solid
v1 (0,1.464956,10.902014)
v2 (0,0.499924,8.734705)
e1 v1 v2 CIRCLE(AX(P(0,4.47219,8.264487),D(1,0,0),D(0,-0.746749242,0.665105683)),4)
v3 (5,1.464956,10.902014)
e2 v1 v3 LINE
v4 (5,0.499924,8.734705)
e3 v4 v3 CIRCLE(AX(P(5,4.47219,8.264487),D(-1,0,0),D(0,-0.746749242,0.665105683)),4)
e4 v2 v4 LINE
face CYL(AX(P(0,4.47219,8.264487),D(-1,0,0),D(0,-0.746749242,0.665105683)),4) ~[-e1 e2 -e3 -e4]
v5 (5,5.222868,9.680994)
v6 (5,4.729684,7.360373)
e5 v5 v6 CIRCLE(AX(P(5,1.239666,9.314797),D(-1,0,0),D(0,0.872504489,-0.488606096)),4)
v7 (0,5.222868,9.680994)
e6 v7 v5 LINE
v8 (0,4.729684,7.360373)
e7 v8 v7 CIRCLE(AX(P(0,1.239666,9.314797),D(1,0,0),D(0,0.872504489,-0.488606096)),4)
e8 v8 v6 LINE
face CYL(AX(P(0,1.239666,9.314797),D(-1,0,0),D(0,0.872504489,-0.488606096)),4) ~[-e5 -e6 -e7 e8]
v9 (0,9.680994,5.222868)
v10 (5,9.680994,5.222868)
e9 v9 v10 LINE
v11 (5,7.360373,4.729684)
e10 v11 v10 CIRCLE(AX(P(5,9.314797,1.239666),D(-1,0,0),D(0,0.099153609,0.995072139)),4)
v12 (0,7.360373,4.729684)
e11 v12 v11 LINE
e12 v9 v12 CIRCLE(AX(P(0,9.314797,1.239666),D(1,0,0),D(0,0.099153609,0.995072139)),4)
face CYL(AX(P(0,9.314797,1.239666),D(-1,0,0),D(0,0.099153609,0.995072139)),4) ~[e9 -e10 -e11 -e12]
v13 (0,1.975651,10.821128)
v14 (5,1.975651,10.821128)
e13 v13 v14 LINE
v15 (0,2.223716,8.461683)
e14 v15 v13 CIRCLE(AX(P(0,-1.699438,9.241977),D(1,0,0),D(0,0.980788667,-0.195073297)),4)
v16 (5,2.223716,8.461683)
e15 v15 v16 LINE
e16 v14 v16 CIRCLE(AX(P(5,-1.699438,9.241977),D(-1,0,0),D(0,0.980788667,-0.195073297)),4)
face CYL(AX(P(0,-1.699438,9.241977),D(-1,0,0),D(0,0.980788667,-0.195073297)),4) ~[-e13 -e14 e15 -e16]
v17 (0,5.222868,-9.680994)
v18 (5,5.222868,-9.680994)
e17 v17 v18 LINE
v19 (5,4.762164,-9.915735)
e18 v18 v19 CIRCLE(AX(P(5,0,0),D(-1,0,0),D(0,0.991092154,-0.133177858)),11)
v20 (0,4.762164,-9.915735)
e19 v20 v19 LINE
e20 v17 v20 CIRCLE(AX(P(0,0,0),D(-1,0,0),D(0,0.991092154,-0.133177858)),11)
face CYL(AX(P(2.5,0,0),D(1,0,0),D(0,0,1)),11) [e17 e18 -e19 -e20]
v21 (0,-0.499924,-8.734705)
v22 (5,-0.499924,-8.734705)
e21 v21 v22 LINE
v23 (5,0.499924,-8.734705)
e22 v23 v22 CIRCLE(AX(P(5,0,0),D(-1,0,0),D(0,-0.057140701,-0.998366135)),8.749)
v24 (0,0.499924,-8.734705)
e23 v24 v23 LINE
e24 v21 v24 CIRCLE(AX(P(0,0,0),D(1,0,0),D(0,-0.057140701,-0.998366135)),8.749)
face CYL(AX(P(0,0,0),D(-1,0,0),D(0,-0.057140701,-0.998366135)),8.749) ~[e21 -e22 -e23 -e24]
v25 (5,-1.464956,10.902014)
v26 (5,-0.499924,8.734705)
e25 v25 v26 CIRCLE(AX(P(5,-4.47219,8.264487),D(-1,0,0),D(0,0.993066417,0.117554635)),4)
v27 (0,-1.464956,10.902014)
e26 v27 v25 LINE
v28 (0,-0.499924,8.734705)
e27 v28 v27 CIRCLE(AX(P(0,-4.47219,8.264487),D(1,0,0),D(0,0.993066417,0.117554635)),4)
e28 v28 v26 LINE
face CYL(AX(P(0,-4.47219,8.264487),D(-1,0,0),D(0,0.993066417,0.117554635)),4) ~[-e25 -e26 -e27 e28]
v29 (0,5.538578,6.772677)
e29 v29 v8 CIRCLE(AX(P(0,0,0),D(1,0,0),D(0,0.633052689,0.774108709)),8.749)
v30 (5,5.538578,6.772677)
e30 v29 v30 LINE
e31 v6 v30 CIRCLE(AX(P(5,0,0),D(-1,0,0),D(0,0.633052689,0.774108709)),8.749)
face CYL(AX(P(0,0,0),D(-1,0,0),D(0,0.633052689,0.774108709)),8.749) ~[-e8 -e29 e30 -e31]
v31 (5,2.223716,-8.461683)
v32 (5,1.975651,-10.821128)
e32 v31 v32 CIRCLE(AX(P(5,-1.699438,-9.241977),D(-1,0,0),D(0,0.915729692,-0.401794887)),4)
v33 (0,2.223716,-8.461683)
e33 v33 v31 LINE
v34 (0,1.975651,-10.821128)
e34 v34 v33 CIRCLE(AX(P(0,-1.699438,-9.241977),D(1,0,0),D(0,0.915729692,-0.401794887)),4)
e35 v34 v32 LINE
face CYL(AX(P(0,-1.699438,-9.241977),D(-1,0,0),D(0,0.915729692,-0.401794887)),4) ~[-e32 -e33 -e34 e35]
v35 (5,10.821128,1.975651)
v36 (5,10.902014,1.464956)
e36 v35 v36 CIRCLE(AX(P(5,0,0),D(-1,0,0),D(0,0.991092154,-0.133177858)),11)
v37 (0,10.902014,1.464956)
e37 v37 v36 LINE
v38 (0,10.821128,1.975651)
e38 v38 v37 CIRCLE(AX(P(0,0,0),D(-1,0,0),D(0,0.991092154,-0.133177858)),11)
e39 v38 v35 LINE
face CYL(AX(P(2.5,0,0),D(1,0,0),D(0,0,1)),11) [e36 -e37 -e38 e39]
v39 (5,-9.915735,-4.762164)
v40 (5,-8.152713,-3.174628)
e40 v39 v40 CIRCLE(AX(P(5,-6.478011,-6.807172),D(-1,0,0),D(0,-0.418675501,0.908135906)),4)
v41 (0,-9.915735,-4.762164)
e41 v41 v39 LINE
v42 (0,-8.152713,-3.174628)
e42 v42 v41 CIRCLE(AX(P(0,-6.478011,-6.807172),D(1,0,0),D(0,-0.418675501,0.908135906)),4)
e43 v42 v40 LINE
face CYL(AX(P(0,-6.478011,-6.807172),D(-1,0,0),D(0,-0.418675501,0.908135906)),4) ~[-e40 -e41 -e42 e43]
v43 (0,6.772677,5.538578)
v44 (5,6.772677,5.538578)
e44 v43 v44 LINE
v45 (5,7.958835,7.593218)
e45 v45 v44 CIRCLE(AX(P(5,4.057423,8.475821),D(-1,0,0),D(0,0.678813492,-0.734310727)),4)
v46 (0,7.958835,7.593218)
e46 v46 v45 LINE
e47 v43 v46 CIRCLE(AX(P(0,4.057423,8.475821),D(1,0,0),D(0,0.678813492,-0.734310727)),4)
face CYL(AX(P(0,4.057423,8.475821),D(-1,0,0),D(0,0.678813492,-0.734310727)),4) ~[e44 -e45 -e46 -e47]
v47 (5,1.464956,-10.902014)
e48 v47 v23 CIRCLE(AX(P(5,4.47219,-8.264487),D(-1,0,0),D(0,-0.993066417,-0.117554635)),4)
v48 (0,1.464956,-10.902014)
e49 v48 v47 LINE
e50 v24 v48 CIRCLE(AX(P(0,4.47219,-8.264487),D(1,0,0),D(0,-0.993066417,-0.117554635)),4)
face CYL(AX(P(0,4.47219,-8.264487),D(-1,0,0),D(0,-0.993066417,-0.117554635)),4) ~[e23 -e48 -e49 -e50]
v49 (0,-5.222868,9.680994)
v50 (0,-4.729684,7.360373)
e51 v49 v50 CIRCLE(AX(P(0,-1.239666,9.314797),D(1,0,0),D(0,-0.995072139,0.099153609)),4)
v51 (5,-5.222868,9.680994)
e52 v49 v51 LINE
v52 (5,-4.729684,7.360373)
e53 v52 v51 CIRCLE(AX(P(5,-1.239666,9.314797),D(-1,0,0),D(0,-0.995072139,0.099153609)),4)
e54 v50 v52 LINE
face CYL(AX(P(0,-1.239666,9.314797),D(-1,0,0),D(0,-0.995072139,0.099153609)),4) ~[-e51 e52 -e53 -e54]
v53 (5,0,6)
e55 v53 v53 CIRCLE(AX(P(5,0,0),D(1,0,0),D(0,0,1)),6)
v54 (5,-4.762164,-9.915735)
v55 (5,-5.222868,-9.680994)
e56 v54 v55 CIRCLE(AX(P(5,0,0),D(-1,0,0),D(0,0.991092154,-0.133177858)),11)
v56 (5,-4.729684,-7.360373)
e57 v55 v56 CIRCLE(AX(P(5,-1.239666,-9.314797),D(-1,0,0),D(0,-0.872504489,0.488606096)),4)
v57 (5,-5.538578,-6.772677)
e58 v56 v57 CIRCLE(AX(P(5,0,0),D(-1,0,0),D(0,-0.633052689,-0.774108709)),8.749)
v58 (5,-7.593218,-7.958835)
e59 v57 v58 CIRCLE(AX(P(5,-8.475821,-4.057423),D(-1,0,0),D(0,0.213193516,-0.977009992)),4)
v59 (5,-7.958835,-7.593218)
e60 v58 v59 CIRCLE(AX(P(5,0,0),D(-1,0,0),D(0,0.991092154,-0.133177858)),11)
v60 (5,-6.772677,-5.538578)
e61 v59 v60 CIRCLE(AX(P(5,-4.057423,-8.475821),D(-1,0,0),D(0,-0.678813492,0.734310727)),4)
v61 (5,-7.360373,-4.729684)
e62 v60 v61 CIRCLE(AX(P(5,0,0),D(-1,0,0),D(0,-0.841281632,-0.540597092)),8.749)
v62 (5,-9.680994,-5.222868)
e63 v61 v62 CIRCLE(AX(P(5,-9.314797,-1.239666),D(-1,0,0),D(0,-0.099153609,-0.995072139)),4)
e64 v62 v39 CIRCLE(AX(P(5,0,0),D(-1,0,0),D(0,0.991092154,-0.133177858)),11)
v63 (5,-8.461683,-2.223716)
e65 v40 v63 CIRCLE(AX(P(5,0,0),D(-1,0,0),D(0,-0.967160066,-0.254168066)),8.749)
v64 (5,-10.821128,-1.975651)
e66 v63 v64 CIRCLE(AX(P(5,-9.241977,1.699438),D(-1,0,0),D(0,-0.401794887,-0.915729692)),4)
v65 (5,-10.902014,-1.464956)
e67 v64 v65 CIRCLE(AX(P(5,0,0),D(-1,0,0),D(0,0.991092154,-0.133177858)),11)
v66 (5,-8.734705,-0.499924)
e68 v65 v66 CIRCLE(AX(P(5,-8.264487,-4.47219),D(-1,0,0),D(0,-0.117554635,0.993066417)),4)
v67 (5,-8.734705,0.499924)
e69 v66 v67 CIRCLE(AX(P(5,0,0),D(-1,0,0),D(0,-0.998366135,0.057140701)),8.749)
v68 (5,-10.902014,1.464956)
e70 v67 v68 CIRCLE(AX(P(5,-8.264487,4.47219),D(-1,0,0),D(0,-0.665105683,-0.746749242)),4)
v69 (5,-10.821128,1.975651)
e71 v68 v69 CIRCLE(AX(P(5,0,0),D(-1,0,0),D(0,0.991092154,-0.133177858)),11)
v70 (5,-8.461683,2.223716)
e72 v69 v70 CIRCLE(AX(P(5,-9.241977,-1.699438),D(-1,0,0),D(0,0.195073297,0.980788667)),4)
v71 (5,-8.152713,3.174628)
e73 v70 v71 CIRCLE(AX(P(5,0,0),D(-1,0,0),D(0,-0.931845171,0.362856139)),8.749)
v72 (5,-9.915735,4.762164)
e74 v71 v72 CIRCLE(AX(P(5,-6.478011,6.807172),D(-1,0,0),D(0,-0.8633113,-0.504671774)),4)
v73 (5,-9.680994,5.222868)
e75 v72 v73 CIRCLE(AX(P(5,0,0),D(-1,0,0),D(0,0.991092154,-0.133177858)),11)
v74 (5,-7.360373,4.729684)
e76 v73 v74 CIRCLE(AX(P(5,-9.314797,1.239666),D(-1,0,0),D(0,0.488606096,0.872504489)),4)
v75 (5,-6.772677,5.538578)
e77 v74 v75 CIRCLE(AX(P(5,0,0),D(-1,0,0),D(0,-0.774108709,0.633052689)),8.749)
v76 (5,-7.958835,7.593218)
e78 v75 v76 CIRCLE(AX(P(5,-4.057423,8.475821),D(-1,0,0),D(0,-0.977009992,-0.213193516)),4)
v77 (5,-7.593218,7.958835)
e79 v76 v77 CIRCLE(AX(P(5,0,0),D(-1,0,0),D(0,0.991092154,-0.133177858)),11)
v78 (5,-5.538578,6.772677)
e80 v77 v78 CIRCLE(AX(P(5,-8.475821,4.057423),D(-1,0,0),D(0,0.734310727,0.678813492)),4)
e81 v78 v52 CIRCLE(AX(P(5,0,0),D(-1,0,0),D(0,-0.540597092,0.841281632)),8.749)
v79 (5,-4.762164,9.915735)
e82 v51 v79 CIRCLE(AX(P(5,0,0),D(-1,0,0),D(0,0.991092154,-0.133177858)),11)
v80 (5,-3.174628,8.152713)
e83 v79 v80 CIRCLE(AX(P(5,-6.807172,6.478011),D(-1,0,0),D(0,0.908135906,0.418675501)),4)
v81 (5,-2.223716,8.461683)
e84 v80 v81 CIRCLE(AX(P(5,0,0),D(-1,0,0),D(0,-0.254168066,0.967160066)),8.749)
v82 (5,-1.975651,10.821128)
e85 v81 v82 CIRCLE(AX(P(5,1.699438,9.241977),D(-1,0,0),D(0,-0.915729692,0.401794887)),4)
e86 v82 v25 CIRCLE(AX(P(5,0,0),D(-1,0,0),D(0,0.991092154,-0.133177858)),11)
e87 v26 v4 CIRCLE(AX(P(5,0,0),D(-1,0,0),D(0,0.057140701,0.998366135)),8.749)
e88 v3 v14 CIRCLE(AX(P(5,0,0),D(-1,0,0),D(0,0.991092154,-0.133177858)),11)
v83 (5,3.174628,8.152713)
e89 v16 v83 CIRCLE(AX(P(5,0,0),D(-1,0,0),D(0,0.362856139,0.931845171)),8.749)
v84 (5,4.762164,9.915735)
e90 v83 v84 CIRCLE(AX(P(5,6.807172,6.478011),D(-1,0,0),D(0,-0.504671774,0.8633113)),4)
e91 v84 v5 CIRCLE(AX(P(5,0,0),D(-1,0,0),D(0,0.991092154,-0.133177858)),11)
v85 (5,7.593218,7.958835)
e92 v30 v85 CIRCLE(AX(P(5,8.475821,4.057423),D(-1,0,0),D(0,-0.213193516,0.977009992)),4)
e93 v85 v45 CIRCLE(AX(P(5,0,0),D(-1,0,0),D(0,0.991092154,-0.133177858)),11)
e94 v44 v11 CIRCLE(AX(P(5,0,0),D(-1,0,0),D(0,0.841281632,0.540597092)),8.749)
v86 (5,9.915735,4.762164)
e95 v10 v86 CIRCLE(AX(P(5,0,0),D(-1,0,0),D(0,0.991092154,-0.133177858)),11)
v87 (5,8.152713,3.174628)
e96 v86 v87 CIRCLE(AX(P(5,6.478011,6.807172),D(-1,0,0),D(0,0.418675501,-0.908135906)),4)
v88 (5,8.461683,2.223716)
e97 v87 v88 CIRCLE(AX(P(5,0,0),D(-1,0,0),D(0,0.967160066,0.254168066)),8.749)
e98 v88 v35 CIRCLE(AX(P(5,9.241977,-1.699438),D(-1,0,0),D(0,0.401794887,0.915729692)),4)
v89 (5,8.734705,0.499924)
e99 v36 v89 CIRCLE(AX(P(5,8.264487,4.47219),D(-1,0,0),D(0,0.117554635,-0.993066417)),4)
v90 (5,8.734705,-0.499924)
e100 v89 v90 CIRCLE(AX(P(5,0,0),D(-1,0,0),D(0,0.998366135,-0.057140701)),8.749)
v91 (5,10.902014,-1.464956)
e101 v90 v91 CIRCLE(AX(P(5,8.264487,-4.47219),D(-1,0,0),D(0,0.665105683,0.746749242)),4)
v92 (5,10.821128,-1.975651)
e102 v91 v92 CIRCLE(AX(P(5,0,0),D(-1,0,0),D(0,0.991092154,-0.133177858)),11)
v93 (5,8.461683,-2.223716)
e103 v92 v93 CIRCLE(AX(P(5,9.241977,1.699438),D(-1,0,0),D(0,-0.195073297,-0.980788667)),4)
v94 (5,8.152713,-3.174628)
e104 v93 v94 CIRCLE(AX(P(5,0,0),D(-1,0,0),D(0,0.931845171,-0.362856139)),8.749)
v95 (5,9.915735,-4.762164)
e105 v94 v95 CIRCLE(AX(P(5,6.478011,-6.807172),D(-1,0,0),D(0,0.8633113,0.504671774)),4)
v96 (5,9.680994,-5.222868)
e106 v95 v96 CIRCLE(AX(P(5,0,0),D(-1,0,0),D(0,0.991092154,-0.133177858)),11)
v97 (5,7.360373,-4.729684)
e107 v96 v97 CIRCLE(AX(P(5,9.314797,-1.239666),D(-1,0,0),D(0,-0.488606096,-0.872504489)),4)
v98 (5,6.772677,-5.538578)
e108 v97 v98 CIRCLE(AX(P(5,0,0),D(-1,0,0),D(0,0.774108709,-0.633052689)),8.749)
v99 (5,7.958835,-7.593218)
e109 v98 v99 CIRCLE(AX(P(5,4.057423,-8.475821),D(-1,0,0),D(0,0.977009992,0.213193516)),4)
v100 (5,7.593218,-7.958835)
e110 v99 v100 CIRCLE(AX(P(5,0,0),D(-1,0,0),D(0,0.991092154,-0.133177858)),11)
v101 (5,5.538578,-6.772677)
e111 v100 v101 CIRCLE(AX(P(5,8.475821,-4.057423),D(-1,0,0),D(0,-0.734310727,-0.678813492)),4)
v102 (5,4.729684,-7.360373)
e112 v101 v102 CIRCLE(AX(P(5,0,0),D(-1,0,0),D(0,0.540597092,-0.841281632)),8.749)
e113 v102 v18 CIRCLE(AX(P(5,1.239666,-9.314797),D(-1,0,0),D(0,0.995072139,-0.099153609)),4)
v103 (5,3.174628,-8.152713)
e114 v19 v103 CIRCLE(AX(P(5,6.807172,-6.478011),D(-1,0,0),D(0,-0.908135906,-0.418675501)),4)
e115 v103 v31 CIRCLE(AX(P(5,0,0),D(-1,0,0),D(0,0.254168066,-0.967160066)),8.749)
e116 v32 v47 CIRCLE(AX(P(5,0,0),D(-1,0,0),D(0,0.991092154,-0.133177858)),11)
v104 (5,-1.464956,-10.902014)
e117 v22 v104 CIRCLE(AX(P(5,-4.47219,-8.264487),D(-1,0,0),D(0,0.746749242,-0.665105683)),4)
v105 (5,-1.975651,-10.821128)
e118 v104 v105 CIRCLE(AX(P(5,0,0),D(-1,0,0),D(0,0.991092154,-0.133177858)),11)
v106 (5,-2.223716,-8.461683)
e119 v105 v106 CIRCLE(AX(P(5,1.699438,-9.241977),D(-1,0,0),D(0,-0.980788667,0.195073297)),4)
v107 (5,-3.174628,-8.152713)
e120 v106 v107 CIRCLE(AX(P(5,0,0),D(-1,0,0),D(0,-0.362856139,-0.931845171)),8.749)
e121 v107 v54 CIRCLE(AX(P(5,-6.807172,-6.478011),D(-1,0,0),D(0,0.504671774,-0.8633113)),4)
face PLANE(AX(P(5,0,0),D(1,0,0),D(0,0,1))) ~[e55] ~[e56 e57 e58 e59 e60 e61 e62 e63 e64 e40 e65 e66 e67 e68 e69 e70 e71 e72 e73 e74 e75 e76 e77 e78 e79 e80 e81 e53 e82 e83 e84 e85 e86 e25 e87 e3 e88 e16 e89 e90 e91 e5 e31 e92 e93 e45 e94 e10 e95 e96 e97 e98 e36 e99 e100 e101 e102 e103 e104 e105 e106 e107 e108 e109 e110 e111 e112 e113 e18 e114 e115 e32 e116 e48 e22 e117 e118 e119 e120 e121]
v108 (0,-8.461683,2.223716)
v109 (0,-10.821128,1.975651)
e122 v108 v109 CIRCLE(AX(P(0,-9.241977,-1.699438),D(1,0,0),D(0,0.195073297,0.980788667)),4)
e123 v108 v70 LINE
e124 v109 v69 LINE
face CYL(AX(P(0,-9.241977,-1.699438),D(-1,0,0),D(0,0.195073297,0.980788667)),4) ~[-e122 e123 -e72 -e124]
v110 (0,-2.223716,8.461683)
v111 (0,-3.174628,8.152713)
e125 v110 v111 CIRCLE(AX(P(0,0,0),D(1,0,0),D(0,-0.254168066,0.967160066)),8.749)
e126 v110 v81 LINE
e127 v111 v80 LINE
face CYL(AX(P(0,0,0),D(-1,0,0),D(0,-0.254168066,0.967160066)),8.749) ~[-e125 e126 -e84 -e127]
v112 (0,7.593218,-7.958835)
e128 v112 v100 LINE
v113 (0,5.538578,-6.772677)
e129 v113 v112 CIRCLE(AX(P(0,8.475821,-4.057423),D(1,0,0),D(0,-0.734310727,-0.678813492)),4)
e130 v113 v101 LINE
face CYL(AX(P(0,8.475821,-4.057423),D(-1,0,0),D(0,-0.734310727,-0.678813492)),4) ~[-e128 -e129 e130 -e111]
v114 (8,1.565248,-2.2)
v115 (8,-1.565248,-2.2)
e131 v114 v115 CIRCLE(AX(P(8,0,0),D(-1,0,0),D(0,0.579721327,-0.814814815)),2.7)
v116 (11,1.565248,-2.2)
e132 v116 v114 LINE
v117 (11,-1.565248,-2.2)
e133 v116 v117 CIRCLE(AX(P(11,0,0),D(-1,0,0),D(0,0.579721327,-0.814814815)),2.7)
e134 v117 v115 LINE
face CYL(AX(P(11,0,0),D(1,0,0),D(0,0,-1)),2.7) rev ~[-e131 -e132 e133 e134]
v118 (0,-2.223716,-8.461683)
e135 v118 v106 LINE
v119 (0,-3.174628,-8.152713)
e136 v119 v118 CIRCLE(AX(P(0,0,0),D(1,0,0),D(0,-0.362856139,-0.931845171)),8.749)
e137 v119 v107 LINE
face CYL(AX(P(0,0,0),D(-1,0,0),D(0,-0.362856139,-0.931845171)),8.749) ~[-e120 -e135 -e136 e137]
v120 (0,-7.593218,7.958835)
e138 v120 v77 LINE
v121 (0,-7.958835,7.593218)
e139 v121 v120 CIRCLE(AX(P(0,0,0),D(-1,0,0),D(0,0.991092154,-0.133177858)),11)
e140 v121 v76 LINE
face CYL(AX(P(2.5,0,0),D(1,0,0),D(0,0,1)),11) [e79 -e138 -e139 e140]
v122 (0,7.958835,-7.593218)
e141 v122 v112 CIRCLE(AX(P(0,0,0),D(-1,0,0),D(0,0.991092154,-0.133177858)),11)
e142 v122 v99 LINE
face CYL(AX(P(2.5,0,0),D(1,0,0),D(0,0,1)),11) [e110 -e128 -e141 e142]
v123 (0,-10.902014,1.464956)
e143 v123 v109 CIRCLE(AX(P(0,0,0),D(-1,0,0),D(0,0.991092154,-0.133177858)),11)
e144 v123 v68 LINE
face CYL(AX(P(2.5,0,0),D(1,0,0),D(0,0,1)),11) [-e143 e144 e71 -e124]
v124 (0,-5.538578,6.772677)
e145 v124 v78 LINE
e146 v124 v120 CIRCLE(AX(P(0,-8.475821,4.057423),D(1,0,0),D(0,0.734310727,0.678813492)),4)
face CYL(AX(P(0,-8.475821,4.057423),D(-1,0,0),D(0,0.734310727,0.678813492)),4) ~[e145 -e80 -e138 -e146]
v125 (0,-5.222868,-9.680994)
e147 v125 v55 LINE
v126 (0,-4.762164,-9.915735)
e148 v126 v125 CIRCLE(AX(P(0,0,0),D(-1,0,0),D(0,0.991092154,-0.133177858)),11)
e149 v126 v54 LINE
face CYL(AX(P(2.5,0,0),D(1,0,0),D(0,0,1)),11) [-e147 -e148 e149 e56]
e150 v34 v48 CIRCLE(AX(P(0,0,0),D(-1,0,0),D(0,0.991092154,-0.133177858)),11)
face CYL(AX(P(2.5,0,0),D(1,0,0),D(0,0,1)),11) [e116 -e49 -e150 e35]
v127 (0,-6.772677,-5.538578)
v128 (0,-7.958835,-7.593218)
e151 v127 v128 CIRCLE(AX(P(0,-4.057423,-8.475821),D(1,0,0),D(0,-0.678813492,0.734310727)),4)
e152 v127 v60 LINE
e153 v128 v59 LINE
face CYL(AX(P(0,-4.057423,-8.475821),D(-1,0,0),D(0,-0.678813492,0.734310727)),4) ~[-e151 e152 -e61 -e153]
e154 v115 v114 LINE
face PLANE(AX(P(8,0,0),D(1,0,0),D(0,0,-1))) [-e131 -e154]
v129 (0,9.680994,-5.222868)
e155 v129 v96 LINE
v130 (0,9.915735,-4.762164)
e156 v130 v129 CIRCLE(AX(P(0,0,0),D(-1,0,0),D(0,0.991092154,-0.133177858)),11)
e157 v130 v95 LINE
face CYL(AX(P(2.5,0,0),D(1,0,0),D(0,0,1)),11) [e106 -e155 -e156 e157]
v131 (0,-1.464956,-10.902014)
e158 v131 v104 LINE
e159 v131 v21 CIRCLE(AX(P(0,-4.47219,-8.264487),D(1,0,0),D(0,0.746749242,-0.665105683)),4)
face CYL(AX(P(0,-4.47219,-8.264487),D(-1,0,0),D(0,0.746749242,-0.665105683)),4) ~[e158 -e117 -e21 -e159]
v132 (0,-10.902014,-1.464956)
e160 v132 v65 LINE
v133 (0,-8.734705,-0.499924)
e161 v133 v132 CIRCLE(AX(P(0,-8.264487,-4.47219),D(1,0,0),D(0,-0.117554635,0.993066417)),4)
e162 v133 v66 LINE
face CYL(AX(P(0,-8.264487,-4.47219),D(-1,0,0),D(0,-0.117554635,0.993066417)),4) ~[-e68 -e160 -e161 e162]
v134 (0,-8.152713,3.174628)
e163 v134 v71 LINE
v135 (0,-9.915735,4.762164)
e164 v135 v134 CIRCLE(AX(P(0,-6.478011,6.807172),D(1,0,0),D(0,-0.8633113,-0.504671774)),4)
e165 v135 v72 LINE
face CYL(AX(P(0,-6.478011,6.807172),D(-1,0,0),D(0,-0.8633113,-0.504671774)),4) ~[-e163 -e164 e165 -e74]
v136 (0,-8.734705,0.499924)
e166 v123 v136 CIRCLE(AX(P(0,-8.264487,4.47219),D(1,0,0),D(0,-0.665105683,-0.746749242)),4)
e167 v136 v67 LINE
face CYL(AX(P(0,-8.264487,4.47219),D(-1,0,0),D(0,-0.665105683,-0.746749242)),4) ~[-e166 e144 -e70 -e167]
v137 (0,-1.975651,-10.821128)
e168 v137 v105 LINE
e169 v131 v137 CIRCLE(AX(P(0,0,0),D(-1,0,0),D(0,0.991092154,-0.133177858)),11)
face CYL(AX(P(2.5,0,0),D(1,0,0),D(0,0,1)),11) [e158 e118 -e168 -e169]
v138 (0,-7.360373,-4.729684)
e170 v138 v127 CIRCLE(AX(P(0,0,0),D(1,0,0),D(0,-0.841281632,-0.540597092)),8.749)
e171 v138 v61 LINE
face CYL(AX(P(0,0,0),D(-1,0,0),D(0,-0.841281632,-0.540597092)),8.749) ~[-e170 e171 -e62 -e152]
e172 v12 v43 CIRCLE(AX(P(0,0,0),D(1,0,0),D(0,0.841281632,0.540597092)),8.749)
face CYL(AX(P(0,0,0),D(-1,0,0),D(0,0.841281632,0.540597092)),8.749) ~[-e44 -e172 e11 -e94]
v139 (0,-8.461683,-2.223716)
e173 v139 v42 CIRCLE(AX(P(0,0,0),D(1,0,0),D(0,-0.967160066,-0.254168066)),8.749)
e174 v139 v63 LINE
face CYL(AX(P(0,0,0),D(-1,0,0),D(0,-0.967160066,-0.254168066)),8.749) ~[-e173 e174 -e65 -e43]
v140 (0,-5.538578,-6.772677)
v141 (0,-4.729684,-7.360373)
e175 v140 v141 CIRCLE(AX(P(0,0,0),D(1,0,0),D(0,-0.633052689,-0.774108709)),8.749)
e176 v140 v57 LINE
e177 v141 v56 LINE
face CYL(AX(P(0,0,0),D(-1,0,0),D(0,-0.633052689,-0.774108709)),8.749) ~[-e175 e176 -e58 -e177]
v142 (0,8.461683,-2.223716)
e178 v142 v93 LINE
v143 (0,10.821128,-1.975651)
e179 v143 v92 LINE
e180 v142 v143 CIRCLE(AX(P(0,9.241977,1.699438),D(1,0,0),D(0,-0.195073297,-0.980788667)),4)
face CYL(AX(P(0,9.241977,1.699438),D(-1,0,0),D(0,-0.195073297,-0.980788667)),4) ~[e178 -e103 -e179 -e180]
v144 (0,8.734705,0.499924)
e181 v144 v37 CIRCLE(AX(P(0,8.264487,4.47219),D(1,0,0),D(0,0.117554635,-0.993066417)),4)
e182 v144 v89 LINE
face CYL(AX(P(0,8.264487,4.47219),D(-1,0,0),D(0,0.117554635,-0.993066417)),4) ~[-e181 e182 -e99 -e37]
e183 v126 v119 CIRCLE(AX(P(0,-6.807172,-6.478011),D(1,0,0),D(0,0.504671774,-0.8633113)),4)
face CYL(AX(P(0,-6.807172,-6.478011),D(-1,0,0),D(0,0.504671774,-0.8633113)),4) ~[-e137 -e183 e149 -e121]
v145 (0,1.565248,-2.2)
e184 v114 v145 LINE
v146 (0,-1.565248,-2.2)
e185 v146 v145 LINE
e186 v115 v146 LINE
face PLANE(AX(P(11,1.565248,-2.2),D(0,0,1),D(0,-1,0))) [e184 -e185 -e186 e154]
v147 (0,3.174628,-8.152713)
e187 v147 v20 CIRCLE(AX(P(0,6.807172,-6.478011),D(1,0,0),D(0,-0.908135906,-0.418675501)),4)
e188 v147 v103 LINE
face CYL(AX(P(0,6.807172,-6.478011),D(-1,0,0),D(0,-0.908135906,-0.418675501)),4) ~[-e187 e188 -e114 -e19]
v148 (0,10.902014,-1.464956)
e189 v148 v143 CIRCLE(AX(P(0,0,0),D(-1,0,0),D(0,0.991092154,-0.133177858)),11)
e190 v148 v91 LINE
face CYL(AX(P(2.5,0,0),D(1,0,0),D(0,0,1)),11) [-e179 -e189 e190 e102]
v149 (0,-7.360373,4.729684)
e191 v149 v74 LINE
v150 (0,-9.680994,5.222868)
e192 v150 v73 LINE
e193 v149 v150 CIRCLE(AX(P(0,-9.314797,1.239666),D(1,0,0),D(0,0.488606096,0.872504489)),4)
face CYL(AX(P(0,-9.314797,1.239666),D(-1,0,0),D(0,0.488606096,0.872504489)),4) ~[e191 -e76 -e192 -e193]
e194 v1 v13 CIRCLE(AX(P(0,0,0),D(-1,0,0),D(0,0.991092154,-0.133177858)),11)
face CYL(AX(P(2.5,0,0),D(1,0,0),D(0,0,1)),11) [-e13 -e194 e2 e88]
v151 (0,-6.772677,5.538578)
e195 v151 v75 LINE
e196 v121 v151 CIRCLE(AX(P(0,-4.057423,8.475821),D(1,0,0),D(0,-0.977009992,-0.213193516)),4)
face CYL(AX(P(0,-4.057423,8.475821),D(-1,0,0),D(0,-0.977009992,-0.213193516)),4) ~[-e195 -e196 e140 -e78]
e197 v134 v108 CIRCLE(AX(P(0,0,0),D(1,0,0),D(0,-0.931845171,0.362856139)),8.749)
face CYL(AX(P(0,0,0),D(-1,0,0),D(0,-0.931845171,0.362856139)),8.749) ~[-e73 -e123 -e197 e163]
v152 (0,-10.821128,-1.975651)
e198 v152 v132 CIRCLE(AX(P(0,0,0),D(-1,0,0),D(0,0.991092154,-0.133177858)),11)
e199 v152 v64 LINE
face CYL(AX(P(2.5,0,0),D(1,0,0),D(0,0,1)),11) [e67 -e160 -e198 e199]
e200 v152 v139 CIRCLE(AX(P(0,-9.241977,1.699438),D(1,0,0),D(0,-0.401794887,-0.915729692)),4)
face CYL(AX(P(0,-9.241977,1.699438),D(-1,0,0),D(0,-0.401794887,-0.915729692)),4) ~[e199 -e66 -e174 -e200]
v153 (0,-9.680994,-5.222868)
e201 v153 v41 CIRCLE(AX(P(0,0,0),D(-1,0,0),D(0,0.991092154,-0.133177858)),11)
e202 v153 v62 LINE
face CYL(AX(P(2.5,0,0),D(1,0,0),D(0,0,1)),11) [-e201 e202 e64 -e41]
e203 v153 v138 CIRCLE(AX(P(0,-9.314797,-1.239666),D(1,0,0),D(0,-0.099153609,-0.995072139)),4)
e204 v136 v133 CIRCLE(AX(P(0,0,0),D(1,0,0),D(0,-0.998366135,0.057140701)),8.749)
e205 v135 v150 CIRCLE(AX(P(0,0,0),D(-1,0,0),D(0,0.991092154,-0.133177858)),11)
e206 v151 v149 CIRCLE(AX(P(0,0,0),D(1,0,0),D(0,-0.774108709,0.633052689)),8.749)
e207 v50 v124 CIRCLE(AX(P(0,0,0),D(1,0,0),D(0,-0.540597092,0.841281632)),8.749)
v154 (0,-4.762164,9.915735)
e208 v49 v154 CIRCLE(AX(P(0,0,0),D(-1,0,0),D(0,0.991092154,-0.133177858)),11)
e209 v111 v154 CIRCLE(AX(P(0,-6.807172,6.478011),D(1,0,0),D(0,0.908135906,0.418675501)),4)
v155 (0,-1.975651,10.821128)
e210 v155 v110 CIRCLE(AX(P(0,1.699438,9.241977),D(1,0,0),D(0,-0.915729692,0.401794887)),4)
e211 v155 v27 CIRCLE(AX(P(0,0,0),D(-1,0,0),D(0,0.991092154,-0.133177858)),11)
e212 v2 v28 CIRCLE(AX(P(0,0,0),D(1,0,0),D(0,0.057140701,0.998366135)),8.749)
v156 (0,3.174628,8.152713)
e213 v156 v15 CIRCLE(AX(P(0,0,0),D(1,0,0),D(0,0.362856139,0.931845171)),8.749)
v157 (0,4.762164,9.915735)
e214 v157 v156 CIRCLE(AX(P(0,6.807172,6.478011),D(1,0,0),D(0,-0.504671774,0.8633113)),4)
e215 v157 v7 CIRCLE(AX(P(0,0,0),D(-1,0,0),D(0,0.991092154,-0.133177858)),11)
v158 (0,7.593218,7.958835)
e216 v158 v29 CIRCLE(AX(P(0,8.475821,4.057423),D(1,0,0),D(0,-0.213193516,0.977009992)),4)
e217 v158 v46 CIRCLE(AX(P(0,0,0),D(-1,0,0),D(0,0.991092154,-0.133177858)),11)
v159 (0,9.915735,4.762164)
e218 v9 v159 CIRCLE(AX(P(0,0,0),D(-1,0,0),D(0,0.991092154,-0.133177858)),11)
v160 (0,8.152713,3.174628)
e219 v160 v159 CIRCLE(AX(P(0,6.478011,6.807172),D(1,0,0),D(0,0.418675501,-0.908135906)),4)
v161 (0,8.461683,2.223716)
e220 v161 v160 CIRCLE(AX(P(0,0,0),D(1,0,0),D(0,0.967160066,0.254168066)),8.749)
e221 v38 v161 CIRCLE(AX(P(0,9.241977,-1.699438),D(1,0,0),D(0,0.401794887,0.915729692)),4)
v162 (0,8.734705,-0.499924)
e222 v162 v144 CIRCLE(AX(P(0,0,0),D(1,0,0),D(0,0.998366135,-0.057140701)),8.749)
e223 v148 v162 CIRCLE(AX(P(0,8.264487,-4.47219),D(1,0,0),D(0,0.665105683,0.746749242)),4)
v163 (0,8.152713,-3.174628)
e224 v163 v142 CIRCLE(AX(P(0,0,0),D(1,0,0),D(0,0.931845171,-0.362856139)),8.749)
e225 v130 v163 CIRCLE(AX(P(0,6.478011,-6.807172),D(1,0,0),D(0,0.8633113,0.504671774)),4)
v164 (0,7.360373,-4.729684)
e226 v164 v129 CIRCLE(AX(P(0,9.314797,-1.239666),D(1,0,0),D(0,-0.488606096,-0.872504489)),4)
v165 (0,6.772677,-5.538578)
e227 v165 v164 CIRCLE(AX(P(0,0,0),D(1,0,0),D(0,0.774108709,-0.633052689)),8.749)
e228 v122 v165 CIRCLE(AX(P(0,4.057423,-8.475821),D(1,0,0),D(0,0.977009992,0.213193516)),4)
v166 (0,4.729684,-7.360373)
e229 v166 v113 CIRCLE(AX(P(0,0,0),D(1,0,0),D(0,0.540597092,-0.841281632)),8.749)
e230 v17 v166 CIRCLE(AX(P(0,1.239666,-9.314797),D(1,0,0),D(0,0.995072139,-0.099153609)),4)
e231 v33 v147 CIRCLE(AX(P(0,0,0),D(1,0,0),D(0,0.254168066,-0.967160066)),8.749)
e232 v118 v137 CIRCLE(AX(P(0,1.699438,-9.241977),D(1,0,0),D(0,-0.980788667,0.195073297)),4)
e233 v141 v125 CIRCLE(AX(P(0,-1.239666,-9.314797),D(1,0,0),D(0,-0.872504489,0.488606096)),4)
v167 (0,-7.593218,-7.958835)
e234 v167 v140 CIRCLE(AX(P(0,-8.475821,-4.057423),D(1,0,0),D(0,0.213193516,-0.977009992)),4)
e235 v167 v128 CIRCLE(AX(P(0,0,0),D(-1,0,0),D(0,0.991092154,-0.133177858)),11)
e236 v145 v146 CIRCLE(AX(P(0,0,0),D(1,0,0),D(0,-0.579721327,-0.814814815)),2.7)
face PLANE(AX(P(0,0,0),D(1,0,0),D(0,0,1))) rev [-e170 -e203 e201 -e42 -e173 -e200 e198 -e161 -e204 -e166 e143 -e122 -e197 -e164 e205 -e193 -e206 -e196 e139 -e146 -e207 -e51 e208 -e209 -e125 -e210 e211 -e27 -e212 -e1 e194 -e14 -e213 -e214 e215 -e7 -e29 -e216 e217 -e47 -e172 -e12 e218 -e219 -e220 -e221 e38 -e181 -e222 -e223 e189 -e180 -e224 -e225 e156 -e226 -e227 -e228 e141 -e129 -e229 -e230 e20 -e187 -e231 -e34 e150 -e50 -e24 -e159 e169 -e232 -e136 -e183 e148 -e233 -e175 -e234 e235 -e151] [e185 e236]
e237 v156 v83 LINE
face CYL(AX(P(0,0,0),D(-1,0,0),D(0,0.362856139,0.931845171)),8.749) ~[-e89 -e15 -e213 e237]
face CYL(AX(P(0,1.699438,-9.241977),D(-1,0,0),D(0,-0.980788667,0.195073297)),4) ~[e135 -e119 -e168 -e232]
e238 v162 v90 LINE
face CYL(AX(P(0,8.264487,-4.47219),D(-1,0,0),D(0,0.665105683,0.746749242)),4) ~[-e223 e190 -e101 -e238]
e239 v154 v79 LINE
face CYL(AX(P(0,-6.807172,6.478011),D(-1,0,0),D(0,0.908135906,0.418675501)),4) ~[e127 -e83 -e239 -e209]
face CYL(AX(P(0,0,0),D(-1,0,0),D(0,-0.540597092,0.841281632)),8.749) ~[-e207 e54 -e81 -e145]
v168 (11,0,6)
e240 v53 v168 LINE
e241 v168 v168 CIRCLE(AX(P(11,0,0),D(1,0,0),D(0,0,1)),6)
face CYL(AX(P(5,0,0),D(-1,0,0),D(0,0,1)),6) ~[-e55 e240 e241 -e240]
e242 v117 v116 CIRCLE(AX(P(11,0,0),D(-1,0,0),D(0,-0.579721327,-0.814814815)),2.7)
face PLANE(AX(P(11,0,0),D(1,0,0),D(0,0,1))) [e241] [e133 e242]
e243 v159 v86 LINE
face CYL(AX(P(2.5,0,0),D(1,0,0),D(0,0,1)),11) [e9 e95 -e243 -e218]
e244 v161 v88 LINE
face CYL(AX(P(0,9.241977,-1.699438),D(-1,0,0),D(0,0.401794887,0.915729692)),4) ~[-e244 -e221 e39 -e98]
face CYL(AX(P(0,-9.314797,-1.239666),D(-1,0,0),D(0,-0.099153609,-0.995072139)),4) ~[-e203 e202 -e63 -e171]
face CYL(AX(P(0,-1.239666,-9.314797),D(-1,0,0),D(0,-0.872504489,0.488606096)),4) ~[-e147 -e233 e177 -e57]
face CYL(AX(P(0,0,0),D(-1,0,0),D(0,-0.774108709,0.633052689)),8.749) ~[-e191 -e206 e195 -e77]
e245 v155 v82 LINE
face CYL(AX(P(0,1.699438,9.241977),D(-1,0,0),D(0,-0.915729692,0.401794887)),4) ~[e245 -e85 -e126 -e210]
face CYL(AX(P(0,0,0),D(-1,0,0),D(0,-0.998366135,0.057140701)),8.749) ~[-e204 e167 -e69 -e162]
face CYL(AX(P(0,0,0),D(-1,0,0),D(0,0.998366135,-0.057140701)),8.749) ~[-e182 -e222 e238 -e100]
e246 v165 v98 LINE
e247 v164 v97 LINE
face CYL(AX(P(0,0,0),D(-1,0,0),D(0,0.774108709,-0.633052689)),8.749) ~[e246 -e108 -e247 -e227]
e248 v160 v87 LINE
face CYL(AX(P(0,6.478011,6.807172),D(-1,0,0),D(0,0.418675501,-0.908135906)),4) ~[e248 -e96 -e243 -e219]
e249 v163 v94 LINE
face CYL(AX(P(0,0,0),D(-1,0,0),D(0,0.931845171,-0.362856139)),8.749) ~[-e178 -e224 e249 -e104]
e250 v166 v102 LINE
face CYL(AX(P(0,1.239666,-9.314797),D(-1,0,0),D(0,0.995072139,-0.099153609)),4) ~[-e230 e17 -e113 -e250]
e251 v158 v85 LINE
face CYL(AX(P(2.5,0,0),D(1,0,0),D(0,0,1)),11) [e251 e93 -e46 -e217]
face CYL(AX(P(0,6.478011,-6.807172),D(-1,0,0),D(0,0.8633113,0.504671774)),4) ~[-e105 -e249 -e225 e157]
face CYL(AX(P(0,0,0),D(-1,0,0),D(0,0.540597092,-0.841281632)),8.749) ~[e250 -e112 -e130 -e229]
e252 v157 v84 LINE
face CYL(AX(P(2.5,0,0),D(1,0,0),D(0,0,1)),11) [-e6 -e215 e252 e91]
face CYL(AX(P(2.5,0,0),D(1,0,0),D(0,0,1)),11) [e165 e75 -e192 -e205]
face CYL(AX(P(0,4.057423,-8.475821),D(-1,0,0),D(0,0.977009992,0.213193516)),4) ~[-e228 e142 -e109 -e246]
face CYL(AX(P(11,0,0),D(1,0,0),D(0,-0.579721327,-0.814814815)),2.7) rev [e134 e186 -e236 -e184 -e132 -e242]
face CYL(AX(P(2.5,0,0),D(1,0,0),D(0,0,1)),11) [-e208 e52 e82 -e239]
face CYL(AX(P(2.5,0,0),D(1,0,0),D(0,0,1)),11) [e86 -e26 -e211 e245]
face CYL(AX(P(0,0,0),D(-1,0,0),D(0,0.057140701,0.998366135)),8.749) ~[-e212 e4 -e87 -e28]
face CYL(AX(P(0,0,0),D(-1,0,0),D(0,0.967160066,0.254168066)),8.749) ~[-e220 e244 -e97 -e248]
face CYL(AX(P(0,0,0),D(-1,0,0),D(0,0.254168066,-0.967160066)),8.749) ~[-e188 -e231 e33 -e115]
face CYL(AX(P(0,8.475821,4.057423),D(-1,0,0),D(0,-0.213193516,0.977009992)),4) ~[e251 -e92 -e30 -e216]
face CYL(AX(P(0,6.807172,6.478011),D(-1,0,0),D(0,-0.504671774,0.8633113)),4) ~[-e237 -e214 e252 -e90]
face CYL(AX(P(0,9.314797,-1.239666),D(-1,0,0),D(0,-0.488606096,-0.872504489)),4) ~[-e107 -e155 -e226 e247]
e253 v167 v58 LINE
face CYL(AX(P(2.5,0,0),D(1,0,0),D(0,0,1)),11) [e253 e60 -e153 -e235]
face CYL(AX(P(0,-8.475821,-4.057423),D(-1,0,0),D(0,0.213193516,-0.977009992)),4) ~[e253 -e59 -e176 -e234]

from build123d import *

# Parameters (mm, degrees)
BASPROSKE_W         = 5
BASPROSKE_H         = 11
TOOTHCUT_DEPTH      = 17.340134638
TEETHCUTS_COUNT     = 20
BORSKE_R            = 1.5
BORE_DEPTH          = 50.0000508
SKETCH_1_R          = 6
EXTRUDE_1_DEPTH     = 6
CUT_EXTRUDE_1_DEPTH = 14
SKETCH_3_R          = 2.7
CUT_EXTRUDE_2_DEPTH = 3


with BuildPart() as part:
    # BasProSke → Base-Revolve (revolve)
    with BuildSketch(Plane(origin=(0, 0, 0), x_dir=(1, 0, 0), z_dir=(0, 1, 0)), mode=Mode.PRIVATE) as base_revolve_sk:
        with Locations((2.5, 5.5)):
            Rectangle(BASPROSKE_W, BASPROSKE_H)
    revolve(base_revolve_sk.sketch.rotate(Axis((-10, 0, 0), (1, 0, 0)), 180), axis=Axis((-10, 0, 0), (1, 0, 0)))

    # TooCutSke → ToothCut (cut, through all)
    with BuildSketch(Plane(origin=(0, 0, 0), x_dir=(0, 0, -1), z_dir=(1, 0, 0))):
        with BuildLine():
            ThreePointArc((0.499924007, 8.734705318), (0, 8.749), (-0.499924007, 8.734705318))
            ThreePointArc((-0.499924007, 8.734705318), (-0.824302243, 9.905497836), (-1.485192705, 10.924909509))
            ThreePointArc((-1.485192705, 10.924909509), (0, 11.0254), (1.485192705, 10.924909509))
            ThreePointArc((1.485192705, 10.924909509), (0.824302243, 9.905497836), (0.499924007, 8.734705318))
        make_face()
    toothcut = extrude(amount=TOOTHCUT_DEPTH, mode=Mode.SUBTRACT)

    # TeethCuts: ToothCut ×20 about axis
    teethcuts_axis = Axis((0, 0, 0), (1, 0, 0))
    for i in range(1, TEETHCUTS_COUNT):
        add(toothcut.rotate(teethcuts_axis, i * 360 / TEETHCUTS_COUNT), mode=Mode.SUBTRACT)

    # BorSke → Bore (cut, symmetric)
    with BuildSketch(Plane(origin=(0, 0, 0), x_dir=(0, 0, -1), z_dir=(1, 0, 0))):
        with Locations(Location((0, 0, 0), (0, 0, 180))):
            Circle(BORSKE_R)
    extrude(amount=BORE_DEPTH, both=True, mode=Mode.SUBTRACT)

    # 草图1 → 凸台-拉伸1 (add)
    with BuildSketch(Plane(origin=(5, 0, 0), x_dir=(0, 0, -1), z_dir=(1, 0, 0))):
        with Locations(Location((0, 0, 0), (0, 0, 180))):
            Circle(SKETCH_1_R)
    extrude(amount=EXTRUDE_1_DEPTH)

    # 草图2 → 切除-拉伸1 (cut)
    with BuildSketch(Plane(origin=(11, 0, 0), x_dir=(0, 0, -1), z_dir=(1, 0, 0))):
        with BuildLine():
            Line((2.2, 1.565247584), (2.2, -1.565247584))
            ThreePointArc((2.2, -1.565247584), (-2.7, 0), (2.2, 1.565247584))
        make_face()
    extrude(amount=-CUT_EXTRUDE_1_DEPTH, mode=Mode.SUBTRACT)

    # 草图3 → 切除-拉伸2 (cut)
    with BuildSketch(Plane(origin=(11, 0, 0), x_dir=(0, 0, -1), z_dir=(1, 0, 0))):
        Circle(SKETCH_3_R)
    extrude(amount=-CUT_EXTRUDE_2_DEPTH, mode=Mode.SUBTRACT)


solid = part.part
